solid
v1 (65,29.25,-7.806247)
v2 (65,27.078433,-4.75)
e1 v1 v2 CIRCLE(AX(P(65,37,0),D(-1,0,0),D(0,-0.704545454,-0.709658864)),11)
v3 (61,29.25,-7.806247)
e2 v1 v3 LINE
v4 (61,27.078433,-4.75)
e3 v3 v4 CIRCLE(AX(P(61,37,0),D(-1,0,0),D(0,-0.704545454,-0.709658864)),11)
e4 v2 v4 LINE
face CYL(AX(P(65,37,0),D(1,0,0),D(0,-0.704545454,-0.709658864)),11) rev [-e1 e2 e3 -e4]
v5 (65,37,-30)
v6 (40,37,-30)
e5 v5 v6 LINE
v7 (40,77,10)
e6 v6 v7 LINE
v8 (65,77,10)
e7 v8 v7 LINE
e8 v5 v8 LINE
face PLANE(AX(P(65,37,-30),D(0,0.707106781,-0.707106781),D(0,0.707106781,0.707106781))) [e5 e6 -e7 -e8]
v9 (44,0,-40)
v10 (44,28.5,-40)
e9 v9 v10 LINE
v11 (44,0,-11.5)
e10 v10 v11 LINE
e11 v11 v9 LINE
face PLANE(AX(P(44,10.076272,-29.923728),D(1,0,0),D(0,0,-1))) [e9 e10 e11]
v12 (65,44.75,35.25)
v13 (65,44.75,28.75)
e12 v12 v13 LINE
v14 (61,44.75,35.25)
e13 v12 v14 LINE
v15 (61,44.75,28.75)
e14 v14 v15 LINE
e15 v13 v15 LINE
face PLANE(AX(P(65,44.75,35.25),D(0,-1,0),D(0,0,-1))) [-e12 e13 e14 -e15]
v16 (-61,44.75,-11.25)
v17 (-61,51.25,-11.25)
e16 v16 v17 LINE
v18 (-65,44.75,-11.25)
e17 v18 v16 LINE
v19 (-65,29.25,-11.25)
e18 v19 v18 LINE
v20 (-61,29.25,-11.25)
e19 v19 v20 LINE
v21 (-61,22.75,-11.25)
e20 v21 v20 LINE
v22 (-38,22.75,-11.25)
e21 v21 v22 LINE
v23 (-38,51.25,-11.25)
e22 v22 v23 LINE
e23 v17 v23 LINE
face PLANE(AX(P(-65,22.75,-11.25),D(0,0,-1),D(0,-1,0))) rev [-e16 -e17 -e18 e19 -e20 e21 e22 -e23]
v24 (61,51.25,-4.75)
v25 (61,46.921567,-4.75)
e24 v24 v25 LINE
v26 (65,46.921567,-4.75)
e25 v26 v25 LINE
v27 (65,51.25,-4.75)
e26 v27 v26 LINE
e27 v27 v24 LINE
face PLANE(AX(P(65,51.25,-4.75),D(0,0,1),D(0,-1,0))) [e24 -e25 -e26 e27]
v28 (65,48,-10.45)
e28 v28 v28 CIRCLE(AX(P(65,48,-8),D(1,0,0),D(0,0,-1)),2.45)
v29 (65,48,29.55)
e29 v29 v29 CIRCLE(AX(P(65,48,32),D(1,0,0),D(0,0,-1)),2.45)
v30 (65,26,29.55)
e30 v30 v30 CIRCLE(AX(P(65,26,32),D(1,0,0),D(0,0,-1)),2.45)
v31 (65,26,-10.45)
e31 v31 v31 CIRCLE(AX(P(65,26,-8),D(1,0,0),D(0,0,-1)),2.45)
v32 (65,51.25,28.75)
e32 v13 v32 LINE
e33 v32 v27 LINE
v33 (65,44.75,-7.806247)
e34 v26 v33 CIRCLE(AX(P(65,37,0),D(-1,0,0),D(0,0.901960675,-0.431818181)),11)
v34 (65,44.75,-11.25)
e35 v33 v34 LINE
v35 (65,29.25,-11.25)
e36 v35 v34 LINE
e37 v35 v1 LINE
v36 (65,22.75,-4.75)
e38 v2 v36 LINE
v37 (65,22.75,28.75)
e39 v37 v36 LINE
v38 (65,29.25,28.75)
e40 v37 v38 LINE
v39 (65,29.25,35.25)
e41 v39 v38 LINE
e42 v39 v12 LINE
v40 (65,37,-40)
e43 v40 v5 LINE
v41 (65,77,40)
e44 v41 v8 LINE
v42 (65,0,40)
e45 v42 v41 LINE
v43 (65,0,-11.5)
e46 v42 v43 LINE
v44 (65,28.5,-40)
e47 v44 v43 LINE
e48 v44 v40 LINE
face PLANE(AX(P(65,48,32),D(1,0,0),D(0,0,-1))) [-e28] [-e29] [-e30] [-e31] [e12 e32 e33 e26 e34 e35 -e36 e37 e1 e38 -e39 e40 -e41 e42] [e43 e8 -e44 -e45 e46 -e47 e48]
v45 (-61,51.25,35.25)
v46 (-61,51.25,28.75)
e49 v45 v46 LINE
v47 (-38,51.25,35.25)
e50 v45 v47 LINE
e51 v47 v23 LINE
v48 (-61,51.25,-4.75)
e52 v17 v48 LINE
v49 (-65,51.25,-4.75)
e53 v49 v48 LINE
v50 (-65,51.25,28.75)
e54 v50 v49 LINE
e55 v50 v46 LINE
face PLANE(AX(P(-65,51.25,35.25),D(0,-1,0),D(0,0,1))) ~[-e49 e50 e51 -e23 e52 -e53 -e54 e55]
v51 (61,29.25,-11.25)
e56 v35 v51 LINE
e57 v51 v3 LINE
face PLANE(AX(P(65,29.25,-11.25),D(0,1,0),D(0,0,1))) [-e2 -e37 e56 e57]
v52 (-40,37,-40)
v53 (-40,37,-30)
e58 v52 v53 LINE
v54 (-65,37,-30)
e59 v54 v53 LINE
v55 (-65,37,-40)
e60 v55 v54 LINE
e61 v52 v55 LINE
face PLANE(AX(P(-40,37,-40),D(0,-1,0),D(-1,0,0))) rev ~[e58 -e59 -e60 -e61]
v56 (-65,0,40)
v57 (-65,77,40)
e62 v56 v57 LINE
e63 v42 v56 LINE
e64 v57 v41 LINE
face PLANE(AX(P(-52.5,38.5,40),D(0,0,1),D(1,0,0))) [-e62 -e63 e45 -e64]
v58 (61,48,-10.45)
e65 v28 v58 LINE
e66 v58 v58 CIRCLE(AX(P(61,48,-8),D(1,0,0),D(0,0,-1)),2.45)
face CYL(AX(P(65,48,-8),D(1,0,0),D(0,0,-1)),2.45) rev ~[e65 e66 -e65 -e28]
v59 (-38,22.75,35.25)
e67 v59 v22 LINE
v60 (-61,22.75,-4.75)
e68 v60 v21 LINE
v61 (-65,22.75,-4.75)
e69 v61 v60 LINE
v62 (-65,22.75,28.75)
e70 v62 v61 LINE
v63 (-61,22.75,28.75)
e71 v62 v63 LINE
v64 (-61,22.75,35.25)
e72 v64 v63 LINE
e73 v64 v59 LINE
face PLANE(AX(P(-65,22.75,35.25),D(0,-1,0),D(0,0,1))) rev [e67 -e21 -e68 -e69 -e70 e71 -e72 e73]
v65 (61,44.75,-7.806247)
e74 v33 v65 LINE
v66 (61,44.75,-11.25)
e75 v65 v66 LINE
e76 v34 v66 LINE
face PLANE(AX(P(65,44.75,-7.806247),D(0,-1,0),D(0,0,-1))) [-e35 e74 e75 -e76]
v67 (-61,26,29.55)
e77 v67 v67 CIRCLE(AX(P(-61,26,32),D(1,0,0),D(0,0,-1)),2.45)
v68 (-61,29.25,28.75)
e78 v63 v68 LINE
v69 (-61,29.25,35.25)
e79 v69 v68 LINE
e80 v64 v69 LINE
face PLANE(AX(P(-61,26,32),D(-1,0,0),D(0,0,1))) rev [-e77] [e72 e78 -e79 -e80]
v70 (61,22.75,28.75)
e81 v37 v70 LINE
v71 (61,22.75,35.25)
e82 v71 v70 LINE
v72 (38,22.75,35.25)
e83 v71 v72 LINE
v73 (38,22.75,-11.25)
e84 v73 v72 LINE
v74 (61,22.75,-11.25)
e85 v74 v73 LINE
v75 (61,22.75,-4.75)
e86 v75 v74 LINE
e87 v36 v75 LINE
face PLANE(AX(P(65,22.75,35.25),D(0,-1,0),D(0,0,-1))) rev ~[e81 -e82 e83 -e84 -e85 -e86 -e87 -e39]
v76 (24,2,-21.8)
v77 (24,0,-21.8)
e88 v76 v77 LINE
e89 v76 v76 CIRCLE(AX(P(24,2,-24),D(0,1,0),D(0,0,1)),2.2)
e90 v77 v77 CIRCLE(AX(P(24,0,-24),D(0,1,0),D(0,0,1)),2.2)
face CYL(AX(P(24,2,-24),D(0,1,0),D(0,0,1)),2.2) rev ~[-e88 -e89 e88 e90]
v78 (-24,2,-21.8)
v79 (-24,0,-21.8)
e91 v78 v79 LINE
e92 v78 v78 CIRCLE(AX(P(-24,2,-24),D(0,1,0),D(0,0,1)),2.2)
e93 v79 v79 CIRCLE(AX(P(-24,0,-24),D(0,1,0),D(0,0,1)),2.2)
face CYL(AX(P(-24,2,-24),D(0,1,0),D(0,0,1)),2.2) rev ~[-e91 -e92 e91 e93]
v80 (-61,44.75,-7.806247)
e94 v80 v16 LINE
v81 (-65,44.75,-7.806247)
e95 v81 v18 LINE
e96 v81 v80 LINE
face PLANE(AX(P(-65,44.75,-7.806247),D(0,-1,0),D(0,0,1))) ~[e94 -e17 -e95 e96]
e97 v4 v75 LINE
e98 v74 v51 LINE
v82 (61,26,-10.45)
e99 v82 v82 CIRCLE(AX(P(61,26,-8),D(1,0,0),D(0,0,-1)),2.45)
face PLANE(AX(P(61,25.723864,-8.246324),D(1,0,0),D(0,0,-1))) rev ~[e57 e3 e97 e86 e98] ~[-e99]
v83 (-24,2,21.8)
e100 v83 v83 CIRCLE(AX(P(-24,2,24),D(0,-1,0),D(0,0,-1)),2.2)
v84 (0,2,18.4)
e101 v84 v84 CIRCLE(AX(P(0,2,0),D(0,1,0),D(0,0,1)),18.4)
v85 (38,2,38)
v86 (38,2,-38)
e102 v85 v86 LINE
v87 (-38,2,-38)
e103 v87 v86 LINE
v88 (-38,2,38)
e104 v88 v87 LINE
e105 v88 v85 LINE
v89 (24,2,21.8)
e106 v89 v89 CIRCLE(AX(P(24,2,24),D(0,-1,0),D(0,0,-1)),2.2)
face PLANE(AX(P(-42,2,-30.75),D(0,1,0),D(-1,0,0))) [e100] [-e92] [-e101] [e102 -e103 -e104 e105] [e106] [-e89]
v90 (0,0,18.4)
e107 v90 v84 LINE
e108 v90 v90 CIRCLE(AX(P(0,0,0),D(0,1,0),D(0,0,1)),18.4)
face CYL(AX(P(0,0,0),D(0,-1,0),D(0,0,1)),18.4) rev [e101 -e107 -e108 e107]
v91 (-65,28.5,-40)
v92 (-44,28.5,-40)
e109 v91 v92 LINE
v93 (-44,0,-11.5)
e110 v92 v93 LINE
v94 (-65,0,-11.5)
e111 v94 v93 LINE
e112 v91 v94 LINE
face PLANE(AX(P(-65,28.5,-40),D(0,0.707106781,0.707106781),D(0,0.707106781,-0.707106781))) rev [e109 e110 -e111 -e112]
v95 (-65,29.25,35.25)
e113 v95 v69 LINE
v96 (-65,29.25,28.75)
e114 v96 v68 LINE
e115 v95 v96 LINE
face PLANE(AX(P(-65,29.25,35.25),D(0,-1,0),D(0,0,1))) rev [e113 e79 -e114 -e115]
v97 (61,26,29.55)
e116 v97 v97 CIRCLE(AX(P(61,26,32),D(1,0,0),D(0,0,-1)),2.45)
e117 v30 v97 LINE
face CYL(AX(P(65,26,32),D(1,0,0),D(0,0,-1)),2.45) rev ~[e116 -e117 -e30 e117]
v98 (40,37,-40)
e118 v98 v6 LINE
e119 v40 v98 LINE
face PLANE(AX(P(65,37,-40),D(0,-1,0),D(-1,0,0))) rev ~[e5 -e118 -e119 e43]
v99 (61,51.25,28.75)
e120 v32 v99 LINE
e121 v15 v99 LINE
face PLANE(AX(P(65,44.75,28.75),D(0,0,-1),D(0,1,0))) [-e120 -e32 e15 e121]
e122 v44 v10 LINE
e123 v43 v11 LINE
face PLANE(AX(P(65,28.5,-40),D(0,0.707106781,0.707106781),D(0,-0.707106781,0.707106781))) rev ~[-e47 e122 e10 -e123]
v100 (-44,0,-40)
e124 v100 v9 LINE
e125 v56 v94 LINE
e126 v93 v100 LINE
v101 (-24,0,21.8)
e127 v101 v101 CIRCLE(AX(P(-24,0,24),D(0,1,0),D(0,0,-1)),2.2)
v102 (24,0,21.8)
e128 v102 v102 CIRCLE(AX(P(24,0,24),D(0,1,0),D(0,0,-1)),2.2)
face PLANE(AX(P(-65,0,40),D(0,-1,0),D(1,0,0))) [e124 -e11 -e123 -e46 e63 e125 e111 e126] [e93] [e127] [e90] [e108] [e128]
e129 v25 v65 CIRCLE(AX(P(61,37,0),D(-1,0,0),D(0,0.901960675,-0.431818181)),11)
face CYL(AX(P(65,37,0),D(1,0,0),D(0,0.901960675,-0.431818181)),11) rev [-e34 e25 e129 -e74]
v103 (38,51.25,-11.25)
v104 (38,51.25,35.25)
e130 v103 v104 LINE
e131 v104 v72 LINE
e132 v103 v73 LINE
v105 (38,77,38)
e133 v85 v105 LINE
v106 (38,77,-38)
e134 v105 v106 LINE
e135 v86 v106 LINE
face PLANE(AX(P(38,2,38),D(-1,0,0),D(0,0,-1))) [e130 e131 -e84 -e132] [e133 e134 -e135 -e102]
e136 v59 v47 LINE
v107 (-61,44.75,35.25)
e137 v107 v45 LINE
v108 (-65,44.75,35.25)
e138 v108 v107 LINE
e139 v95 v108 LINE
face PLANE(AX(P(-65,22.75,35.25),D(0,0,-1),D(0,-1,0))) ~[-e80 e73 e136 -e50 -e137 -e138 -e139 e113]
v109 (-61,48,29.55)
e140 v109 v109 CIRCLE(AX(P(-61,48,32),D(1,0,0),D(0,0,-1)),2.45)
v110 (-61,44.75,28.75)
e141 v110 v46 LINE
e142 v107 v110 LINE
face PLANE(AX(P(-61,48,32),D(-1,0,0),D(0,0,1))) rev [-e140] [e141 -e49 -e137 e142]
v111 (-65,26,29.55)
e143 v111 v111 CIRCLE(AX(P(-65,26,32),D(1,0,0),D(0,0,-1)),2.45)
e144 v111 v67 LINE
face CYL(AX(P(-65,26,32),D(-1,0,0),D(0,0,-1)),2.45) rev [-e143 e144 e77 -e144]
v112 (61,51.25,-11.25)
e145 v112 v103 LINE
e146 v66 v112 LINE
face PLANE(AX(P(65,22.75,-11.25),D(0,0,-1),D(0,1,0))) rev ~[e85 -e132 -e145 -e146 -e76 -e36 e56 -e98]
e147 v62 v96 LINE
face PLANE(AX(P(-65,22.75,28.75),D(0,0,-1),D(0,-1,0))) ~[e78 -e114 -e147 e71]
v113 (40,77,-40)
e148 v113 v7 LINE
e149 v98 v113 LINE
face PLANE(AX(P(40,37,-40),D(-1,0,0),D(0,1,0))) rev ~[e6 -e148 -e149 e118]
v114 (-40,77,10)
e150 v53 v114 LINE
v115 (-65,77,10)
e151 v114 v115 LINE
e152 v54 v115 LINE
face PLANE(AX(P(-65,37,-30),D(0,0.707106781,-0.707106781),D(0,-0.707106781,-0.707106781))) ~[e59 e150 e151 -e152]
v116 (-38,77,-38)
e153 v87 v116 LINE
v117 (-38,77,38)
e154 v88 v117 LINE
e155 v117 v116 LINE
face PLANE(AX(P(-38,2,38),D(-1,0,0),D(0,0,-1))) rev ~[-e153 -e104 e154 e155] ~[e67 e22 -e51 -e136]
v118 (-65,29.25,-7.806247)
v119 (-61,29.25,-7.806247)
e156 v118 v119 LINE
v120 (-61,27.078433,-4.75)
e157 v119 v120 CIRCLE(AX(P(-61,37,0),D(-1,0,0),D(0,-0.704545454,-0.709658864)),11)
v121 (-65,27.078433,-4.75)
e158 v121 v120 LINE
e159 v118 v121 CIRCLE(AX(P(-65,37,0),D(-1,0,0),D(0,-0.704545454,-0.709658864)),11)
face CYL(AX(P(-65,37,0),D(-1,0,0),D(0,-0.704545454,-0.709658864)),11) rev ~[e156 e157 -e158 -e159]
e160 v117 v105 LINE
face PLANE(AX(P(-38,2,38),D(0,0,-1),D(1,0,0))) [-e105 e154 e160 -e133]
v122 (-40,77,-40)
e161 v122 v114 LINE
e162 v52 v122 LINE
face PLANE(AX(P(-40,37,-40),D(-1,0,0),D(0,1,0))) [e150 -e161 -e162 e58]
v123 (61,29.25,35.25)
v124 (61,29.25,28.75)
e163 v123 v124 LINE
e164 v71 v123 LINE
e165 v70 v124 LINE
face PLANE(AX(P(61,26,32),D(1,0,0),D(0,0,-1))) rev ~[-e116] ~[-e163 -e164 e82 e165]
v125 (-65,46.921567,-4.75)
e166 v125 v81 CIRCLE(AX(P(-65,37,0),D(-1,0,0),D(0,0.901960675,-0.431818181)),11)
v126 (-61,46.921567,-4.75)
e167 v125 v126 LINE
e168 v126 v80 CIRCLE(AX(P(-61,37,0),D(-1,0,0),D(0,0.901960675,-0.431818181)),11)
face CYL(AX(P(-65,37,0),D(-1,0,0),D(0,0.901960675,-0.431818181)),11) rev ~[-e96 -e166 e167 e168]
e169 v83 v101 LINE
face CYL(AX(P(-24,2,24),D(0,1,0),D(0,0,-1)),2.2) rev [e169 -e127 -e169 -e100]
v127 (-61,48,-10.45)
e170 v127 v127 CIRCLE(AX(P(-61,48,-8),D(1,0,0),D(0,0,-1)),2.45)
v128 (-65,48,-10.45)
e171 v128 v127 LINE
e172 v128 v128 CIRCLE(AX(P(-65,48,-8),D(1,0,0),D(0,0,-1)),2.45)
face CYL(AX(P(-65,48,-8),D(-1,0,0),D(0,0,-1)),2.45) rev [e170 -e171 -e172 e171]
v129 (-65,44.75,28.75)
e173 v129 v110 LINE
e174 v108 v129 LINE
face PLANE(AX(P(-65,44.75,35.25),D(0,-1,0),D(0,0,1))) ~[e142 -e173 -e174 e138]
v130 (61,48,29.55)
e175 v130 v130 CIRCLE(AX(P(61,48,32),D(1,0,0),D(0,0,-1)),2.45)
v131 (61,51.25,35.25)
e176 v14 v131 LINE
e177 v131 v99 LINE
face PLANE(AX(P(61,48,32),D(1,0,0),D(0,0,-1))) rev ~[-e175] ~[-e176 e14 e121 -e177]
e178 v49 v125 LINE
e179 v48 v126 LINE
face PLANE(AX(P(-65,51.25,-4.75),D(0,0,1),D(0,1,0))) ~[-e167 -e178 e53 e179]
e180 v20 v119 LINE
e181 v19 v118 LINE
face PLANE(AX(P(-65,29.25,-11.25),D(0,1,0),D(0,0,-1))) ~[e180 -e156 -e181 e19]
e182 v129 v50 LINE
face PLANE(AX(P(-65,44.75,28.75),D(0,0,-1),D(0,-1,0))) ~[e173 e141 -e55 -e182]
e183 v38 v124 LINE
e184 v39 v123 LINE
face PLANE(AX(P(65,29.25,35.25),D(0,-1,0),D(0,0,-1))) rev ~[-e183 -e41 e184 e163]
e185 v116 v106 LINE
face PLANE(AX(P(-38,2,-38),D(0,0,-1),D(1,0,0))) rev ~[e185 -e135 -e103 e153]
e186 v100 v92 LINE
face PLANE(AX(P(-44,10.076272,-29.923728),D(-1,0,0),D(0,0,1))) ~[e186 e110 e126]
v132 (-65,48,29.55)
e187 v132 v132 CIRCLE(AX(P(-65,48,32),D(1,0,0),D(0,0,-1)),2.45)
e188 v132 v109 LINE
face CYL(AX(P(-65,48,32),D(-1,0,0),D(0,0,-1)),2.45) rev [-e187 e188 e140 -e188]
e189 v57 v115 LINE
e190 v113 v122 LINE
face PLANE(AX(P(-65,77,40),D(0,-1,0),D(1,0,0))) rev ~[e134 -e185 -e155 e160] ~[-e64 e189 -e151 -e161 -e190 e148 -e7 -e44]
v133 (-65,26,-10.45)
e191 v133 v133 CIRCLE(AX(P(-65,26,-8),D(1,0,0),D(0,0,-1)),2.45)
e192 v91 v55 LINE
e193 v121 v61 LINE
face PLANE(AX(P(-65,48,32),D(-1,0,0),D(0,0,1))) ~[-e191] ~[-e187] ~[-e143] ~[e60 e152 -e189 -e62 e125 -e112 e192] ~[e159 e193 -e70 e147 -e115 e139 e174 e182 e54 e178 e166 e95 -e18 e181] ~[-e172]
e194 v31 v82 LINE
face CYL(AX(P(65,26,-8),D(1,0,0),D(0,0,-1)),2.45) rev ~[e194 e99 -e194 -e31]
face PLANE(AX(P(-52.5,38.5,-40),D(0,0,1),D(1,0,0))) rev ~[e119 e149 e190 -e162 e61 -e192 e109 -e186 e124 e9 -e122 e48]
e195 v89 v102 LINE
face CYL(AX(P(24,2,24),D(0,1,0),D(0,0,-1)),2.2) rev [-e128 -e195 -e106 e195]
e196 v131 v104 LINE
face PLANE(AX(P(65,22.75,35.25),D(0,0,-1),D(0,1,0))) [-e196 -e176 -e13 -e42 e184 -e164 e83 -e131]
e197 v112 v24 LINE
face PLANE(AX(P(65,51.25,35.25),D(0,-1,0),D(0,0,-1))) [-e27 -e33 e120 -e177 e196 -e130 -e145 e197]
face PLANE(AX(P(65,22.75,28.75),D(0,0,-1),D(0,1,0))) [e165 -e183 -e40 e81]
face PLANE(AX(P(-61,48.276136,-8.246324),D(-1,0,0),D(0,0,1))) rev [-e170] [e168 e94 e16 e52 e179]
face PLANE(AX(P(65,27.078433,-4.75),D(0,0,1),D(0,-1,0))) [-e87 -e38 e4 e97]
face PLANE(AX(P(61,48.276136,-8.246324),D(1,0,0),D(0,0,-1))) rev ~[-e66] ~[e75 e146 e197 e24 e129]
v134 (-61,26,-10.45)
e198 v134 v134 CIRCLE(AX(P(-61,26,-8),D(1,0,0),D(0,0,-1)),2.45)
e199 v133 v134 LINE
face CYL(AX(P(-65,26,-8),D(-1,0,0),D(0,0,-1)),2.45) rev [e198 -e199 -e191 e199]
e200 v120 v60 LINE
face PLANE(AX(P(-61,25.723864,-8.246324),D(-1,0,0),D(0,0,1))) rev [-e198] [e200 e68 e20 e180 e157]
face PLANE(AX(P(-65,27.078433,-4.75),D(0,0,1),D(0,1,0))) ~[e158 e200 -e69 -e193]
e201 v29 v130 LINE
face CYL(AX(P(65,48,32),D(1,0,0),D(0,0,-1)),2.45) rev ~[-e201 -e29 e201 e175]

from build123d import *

# Parameters (mm, degrees)
SKETCH1_W               = 80
SKETCH1_H               = 80
SKETCH1_R               = 18.4
BOSS_EXTRUDE1_DEPTH     = 2
SKETCH2_W               = 4
SKETCH2_H               = 18.5
BOSS_EXTRUDE2_DEPTH     = 15.25
SKETCH3_R               = 2.2
CUT_EXTRUDE1_DEPTH      = 94.976393312
MIRROR2_COPY_1_SKETCH_W = 4
MIRROR2_COPY_1_SKETCH_H = 18.5
MIRROR2_COPY_1_DEPTH    = 15.25
MIRROR2_COPY_2_SKETCH_R = 2.2
MIRROR2_COPY_2_DEPTH    = 94.976393312
SKETCH4_R               = 2.2
CUT_EXTRUDE2_DEPTH      = 62.388618652
SKETCH5_W               = 4
SKETCH5_H               = 15.25
CUT_EXTRUDE3_DEPTH      = 93.258129723
SKETCH6_W               = 80
SKETCH6_H               = 80
SKETCH6_W_2             = 76
SKETCH6_H_2             = 76
BOSS_EXTRUDE3_DEPTH     = 75
SKETCH7_W               = 25
SKETCH7_H               = 77
BOSS_EXTRUDE4_DEPTH     = 80
CUT_EXTRUDE5_DEPTH      = 21
SKETCH11_W              = 25
SKETCH11_H              = 40
CUT_EXTRUDE6_DEPTH      = 50
BOSS_EXTRUDE5_DEPTH     = 25
SKETCH14_W              = 46.5
SKETCH14_H              = 28.5
SKETCH14_R              = 10.25
CUT_EXTRUDE9_DEPTH      = 34
SKETCH15_W              = 6.5
SKETCH15_H              = 6.5
SKETCH15_R              = 2.45
BOSS_EXTRUDE6_DEPTH     = 4


with BuildPart() as part:
    # Sketch1 → Boss-Extrude1 (new body)
    with BuildSketch(Plane(origin=(0, 0, 0), x_dir=(1, 0, 0), z_dir=(0, 1, 0))):
        Rectangle(SKETCH1_W, SKETCH1_H)
        with Locations(Location((0, 0, 0), (0, 0, 270))):
            Circle(SKETCH1_R, mode=Mode.SUBTRACT)
    extrude(amount=BOSS_EXTRUDE1_DEPTH)

    # Sketch2 → Boss-Extrude2 (add)
    with BuildSketch(Plane(origin=(0, 2, 0), x_dir=(1, 0, 0), z_dir=(0, 1, 0))):
        with Locations((42, -30.75)):
            Rectangle(SKETCH2_W, SKETCH2_H)
    boss_extrude2 = extrude(amount=-BOSS_EXTRUDE2_DEPTH)

    # Sketch3 → Cut-Extrude1 (cut, through all)
    with BuildSketch(Plane(origin=(44, 0, 0), x_dir=(0, 0, -1), z_dir=(1, 0, 0))):
        with Locations((-30.75, -8.125)):
            Circle(SKETCH3_R)
    cut_extrude1 = extrude(amount=-CUT_EXTRUDE1_DEPTH, mode=Mode.SUBTRACT)

    # Mirror1: Boss-Extrude2, Cut-Extrude1 across plane
    add(boss_extrude2.mirror(Plane(origin=(0, 0, 0), x_dir=(0, 0, 1), z_dir=(1, 0, 0))))
    add(cut_extrude1.mirror(Plane(origin=(0, 0, 0), x_dir=(0, 0, 1), z_dir=(1, 0, 0))), mode=Mode.SUBTRACT)

    # Mirror2: Boss-Extrude2, Cut-Extrude1 across plane
    add(boss_extrude2.mirror(Plane(origin=(0, 0, 0), x_dir=(1, 0, 0), z_dir=(0, 0, -1))))
    add(cut_extrude1.mirror(Plane(origin=(0, 0, 0), x_dir=(1, 0, 0), z_dir=(0, 0, -1))), mode=Mode.SUBTRACT)

    # Mirror2 copy 1 sketch → Mirror2 copy 1 (add)
    with BuildSketch(Plane(origin=(0, 2, 0), x_dir=(-1, 0, 0), z_dir=(0, 1, 0))):
        with Locations((42, -30.75)):
            Rectangle(MIRROR2_COPY_1_SKETCH_W, MIRROR2_COPY_1_SKETCH_H)
    extrude(amount=-MIRROR2_COPY_1_DEPTH)

    # Mirror2 copy 2 sketch → Mirror2 copy 2 (cut, through all)
    with BuildSketch(Plane.ZY.offset(44)):
        with Locations((-30.75, -8.125)):
            Circle(MIRROR2_COPY_2_SKETCH_R)
    extrude(amount=-MIRROR2_COPY_2_DEPTH, mode=Mode.SUBTRACT)

    # Sketch4 → Cut-Extrude2 (cut, through all)
    with BuildSketch(Plane(origin=(0, 2, 0), x_dir=(1, 0, 0), z_dir=(0, 1, 0))):
        with Locations(Location((-24, 24, 0), (0, 0, 270))):
            Circle(SKETCH4_R)
        with Locations(Location((24, 24, 0), (0, 0, 270))):
            Circle(SKETCH4_R)
    cut_extrude2 = extrude(amount=-CUT_EXTRUDE2_DEPTH, mode=Mode.SUBTRACT)

    # Mirror3: Cut-Extrude2 across plane
    add(cut_extrude2.mirror(Plane(origin=(0, 0, 0), x_dir=(1, 0, 0), z_dir=(0, 0, -1))), mode=Mode.SUBTRACT)

    # Sketch5 → Cut-Extrude3 (cut, through all)
    with BuildSketch(Plane.XY.offset(40)):
        with Locations((-42, -5.625)):
            Rectangle(SKETCH5_W, SKETCH5_H)
        with Locations((42, -5.625)):
            Rectangle(SKETCH5_W, SKETCH5_H)
    extrude(amount=-CUT_EXTRUDE3_DEPTH, mode=Mode.SUBTRACT)

    # Sketch6 → Boss-Extrude3 (add)
    with BuildSketch(Plane(origin=(0, 2, 0), x_dir=(1, 0, 0), z_dir=(0, 1, 0))):
        Rectangle(SKETCH6_W, SKETCH6_H)
        Rectangle(SKETCH6_W_2, SKETCH6_H_2, mode=Mode.SUBTRACT)
    extrude(amount=BOSS_EXTRUDE3_DEPTH)

    # Sketch7 → Boss-Extrude4 (add)
    with BuildSketch(Plane.XY.offset(40)):
        with Locations((-52.5, 38.5)):
            Rectangle(SKETCH7_W, SKETCH7_H)
        with Locations((52.5, 38.5)):
            Rectangle(SKETCH7_W, SKETCH7_H)
    extrude(amount=-BOSS_EXTRUDE4_DEPTH)

    # Sketch9 → Cut-Extrude5 (cut)
    with BuildSketch(Plane(origin=(65, 0, 0), x_dir=(0, 0, -1), z_dir=(1, 0, 0))):
        Polygon((40, 0), (40, 28.5), (11.5, 0), align=None)
    cut_extrude5 = extrude(amount=-CUT_EXTRUDE5_DEPTH, mode=Mode.SUBTRACT)

    # Mirror4: Cut-Extrude5 across plane
    add(cut_extrude5.mirror(Plane(origin=(0, 0, 0), x_dir=(0, 0, 1), z_dir=(1, 0, 0))), mode=Mode.SUBTRACT)

    # Sketch11 → Cut-Extrude6 (cut)
    with BuildSketch(Plane(origin=(0, 0, -40), x_dir=(-1, 0, 0), z_dir=(0, 0, -1))):
        with Locations((-52.5, 57)):
            Rectangle(SKETCH11_W, SKETCH11_H)
        with Locations((52.5, 57)):
            Rectangle(SKETCH11_W, SKETCH11_H)
    extrude(amount=-CUT_EXTRUDE6_DEPTH, mode=Mode.SUBTRACT)

    # Sketch12 → Boss-Extrude5 (add)
    with BuildSketch(Plane(origin=(65, 0, 0), x_dir=(0, 0, -1), z_dir=(1, 0, 0))):
        Polygon((30, 37), (-10, 77), (-10, 37), align=None)
    boss_extrude5 = extrude(amount=-BOSS_EXTRUDE5_DEPTH)

    # Mirror5: Boss-Extrude5 across plane
    add(boss_extrude5.mirror(Plane(origin=(0, 0, 0), x_dir=(0, 0, 1), z_dir=(1, 0, 0))))

    # Sketch14 → Cut-Extrude9 (cut)
    # profile 1 of 2: a face of its own
    with BuildSketch(Plane(origin=(65, 0, 0), x_dir=(0, 0, -1), z_dir=(1, 0, 0))):
        with Locations((-12, 37)):
            Rectangle(SKETCH14_W, SKETCH14_H)
        with Locations((0, 37)):
            Circle(SKETCH14_R, mode=Mode.SUBTRACT)
    # profile 2 of 2: a face of its own
    with BuildSketch(Plane(origin=(65, 0, 0), x_dir=(0, 0, -1), z_dir=(1, 0, 0))):
        with Locations((0, 37)):
            Circle(SKETCH14_R)
    cut_extrude9 = extrude(amount=-CUT_EXTRUDE9_DEPTH, mode=Mode.SUBTRACT)

    # Mirror6: Cut-Extrude9 across plane
    add(cut_extrude9.mirror(Plane(origin=(0, 0, 0), x_dir=(0, 0, 1), z_dir=(1, 0, 0))), mode=Mode.SUBTRACT)

    # Sketch15 → Boss-Extrude6 (add)
    # profile 1 of 4: a face of its own
    with BuildSketch(Plane(origin=(65, 0, 0), x_dir=(0, 0, -1), z_dir=(1, 0, 0))):
        with Locations((-32, 48)):
            Rectangle(SKETCH15_W, SKETCH15_H)
        with Locations((-32, 48)):
            Circle(SKETCH15_R, mode=Mode.SUBTRACT)
    # profile 2 of 4: a face of its own
    with BuildSketch(Plane(origin=(65, 0, 0), x_dir=(0, 0, -1), z_dir=(1, 0, 0))):
        with Locations((-32, 26)):
            Rectangle(SKETCH15_W, SKETCH15_H)
        with Locations((-32, 26)):
            Circle(SKETCH15_R, mode=Mode.SUBTRACT)
    # profile 3 of 4: a face of its own
    with BuildSketch(Plane(origin=(65, 0, 0), x_dir=(0, 0, -1), z_dir=(1, 0, 0))):
        with BuildLine():
            ThreePointArc((7.806247498, 29.25), (6.371323573, 28.033047567), (4.75, 27.078432584))
            Line((4.75, 27.078432584), (4.75, 22.75))
            Line((4.75, 22.75), (11.25, 22.75))
            Line((11.25, 22.75), (11.25, 29.25))
            Line((11.25, 29.25), (7.806247498, 29.25))
        make_face()
        with Locations((8, 26)):
            Circle(SKETCH15_R, mode=Mode.SUBTRACT)
    # profile 4 of 4: a face of its own
    with BuildSketch(Plane(origin=(65, 0, 0), x_dir=(0, 0, -1), z_dir=(1, 0, 0))):
        with BuildLine():
            Line((11.25, 51.25), (4.75, 51.25))
            Line((4.75, 51.25), (4.75, 46.921567416))
            ThreePointArc((4.75, 46.921567416), (6.371323573, 45.966952433), (7.806247498, 44.75))
            Line((7.806247498, 44.75), (11.25, 44.75))
            Line((11.25, 44.75), (11.25, 51.25))
        make_face()
        with Locations((8, 48)):
            Circle(SKETCH15_R, mode=Mode.SUBTRACT)
    boss_extrude6 = extrude(amount=-BOSS_EXTRUDE6_DEPTH)

    # Mirror7: Boss-Extrude6 across plane
    add(boss_extrude6.mirror(Plane(origin=(0, 0, 0), x_dir=(0, 0, 1), z_dir=(1, 0, 0))))


solid = part.part
